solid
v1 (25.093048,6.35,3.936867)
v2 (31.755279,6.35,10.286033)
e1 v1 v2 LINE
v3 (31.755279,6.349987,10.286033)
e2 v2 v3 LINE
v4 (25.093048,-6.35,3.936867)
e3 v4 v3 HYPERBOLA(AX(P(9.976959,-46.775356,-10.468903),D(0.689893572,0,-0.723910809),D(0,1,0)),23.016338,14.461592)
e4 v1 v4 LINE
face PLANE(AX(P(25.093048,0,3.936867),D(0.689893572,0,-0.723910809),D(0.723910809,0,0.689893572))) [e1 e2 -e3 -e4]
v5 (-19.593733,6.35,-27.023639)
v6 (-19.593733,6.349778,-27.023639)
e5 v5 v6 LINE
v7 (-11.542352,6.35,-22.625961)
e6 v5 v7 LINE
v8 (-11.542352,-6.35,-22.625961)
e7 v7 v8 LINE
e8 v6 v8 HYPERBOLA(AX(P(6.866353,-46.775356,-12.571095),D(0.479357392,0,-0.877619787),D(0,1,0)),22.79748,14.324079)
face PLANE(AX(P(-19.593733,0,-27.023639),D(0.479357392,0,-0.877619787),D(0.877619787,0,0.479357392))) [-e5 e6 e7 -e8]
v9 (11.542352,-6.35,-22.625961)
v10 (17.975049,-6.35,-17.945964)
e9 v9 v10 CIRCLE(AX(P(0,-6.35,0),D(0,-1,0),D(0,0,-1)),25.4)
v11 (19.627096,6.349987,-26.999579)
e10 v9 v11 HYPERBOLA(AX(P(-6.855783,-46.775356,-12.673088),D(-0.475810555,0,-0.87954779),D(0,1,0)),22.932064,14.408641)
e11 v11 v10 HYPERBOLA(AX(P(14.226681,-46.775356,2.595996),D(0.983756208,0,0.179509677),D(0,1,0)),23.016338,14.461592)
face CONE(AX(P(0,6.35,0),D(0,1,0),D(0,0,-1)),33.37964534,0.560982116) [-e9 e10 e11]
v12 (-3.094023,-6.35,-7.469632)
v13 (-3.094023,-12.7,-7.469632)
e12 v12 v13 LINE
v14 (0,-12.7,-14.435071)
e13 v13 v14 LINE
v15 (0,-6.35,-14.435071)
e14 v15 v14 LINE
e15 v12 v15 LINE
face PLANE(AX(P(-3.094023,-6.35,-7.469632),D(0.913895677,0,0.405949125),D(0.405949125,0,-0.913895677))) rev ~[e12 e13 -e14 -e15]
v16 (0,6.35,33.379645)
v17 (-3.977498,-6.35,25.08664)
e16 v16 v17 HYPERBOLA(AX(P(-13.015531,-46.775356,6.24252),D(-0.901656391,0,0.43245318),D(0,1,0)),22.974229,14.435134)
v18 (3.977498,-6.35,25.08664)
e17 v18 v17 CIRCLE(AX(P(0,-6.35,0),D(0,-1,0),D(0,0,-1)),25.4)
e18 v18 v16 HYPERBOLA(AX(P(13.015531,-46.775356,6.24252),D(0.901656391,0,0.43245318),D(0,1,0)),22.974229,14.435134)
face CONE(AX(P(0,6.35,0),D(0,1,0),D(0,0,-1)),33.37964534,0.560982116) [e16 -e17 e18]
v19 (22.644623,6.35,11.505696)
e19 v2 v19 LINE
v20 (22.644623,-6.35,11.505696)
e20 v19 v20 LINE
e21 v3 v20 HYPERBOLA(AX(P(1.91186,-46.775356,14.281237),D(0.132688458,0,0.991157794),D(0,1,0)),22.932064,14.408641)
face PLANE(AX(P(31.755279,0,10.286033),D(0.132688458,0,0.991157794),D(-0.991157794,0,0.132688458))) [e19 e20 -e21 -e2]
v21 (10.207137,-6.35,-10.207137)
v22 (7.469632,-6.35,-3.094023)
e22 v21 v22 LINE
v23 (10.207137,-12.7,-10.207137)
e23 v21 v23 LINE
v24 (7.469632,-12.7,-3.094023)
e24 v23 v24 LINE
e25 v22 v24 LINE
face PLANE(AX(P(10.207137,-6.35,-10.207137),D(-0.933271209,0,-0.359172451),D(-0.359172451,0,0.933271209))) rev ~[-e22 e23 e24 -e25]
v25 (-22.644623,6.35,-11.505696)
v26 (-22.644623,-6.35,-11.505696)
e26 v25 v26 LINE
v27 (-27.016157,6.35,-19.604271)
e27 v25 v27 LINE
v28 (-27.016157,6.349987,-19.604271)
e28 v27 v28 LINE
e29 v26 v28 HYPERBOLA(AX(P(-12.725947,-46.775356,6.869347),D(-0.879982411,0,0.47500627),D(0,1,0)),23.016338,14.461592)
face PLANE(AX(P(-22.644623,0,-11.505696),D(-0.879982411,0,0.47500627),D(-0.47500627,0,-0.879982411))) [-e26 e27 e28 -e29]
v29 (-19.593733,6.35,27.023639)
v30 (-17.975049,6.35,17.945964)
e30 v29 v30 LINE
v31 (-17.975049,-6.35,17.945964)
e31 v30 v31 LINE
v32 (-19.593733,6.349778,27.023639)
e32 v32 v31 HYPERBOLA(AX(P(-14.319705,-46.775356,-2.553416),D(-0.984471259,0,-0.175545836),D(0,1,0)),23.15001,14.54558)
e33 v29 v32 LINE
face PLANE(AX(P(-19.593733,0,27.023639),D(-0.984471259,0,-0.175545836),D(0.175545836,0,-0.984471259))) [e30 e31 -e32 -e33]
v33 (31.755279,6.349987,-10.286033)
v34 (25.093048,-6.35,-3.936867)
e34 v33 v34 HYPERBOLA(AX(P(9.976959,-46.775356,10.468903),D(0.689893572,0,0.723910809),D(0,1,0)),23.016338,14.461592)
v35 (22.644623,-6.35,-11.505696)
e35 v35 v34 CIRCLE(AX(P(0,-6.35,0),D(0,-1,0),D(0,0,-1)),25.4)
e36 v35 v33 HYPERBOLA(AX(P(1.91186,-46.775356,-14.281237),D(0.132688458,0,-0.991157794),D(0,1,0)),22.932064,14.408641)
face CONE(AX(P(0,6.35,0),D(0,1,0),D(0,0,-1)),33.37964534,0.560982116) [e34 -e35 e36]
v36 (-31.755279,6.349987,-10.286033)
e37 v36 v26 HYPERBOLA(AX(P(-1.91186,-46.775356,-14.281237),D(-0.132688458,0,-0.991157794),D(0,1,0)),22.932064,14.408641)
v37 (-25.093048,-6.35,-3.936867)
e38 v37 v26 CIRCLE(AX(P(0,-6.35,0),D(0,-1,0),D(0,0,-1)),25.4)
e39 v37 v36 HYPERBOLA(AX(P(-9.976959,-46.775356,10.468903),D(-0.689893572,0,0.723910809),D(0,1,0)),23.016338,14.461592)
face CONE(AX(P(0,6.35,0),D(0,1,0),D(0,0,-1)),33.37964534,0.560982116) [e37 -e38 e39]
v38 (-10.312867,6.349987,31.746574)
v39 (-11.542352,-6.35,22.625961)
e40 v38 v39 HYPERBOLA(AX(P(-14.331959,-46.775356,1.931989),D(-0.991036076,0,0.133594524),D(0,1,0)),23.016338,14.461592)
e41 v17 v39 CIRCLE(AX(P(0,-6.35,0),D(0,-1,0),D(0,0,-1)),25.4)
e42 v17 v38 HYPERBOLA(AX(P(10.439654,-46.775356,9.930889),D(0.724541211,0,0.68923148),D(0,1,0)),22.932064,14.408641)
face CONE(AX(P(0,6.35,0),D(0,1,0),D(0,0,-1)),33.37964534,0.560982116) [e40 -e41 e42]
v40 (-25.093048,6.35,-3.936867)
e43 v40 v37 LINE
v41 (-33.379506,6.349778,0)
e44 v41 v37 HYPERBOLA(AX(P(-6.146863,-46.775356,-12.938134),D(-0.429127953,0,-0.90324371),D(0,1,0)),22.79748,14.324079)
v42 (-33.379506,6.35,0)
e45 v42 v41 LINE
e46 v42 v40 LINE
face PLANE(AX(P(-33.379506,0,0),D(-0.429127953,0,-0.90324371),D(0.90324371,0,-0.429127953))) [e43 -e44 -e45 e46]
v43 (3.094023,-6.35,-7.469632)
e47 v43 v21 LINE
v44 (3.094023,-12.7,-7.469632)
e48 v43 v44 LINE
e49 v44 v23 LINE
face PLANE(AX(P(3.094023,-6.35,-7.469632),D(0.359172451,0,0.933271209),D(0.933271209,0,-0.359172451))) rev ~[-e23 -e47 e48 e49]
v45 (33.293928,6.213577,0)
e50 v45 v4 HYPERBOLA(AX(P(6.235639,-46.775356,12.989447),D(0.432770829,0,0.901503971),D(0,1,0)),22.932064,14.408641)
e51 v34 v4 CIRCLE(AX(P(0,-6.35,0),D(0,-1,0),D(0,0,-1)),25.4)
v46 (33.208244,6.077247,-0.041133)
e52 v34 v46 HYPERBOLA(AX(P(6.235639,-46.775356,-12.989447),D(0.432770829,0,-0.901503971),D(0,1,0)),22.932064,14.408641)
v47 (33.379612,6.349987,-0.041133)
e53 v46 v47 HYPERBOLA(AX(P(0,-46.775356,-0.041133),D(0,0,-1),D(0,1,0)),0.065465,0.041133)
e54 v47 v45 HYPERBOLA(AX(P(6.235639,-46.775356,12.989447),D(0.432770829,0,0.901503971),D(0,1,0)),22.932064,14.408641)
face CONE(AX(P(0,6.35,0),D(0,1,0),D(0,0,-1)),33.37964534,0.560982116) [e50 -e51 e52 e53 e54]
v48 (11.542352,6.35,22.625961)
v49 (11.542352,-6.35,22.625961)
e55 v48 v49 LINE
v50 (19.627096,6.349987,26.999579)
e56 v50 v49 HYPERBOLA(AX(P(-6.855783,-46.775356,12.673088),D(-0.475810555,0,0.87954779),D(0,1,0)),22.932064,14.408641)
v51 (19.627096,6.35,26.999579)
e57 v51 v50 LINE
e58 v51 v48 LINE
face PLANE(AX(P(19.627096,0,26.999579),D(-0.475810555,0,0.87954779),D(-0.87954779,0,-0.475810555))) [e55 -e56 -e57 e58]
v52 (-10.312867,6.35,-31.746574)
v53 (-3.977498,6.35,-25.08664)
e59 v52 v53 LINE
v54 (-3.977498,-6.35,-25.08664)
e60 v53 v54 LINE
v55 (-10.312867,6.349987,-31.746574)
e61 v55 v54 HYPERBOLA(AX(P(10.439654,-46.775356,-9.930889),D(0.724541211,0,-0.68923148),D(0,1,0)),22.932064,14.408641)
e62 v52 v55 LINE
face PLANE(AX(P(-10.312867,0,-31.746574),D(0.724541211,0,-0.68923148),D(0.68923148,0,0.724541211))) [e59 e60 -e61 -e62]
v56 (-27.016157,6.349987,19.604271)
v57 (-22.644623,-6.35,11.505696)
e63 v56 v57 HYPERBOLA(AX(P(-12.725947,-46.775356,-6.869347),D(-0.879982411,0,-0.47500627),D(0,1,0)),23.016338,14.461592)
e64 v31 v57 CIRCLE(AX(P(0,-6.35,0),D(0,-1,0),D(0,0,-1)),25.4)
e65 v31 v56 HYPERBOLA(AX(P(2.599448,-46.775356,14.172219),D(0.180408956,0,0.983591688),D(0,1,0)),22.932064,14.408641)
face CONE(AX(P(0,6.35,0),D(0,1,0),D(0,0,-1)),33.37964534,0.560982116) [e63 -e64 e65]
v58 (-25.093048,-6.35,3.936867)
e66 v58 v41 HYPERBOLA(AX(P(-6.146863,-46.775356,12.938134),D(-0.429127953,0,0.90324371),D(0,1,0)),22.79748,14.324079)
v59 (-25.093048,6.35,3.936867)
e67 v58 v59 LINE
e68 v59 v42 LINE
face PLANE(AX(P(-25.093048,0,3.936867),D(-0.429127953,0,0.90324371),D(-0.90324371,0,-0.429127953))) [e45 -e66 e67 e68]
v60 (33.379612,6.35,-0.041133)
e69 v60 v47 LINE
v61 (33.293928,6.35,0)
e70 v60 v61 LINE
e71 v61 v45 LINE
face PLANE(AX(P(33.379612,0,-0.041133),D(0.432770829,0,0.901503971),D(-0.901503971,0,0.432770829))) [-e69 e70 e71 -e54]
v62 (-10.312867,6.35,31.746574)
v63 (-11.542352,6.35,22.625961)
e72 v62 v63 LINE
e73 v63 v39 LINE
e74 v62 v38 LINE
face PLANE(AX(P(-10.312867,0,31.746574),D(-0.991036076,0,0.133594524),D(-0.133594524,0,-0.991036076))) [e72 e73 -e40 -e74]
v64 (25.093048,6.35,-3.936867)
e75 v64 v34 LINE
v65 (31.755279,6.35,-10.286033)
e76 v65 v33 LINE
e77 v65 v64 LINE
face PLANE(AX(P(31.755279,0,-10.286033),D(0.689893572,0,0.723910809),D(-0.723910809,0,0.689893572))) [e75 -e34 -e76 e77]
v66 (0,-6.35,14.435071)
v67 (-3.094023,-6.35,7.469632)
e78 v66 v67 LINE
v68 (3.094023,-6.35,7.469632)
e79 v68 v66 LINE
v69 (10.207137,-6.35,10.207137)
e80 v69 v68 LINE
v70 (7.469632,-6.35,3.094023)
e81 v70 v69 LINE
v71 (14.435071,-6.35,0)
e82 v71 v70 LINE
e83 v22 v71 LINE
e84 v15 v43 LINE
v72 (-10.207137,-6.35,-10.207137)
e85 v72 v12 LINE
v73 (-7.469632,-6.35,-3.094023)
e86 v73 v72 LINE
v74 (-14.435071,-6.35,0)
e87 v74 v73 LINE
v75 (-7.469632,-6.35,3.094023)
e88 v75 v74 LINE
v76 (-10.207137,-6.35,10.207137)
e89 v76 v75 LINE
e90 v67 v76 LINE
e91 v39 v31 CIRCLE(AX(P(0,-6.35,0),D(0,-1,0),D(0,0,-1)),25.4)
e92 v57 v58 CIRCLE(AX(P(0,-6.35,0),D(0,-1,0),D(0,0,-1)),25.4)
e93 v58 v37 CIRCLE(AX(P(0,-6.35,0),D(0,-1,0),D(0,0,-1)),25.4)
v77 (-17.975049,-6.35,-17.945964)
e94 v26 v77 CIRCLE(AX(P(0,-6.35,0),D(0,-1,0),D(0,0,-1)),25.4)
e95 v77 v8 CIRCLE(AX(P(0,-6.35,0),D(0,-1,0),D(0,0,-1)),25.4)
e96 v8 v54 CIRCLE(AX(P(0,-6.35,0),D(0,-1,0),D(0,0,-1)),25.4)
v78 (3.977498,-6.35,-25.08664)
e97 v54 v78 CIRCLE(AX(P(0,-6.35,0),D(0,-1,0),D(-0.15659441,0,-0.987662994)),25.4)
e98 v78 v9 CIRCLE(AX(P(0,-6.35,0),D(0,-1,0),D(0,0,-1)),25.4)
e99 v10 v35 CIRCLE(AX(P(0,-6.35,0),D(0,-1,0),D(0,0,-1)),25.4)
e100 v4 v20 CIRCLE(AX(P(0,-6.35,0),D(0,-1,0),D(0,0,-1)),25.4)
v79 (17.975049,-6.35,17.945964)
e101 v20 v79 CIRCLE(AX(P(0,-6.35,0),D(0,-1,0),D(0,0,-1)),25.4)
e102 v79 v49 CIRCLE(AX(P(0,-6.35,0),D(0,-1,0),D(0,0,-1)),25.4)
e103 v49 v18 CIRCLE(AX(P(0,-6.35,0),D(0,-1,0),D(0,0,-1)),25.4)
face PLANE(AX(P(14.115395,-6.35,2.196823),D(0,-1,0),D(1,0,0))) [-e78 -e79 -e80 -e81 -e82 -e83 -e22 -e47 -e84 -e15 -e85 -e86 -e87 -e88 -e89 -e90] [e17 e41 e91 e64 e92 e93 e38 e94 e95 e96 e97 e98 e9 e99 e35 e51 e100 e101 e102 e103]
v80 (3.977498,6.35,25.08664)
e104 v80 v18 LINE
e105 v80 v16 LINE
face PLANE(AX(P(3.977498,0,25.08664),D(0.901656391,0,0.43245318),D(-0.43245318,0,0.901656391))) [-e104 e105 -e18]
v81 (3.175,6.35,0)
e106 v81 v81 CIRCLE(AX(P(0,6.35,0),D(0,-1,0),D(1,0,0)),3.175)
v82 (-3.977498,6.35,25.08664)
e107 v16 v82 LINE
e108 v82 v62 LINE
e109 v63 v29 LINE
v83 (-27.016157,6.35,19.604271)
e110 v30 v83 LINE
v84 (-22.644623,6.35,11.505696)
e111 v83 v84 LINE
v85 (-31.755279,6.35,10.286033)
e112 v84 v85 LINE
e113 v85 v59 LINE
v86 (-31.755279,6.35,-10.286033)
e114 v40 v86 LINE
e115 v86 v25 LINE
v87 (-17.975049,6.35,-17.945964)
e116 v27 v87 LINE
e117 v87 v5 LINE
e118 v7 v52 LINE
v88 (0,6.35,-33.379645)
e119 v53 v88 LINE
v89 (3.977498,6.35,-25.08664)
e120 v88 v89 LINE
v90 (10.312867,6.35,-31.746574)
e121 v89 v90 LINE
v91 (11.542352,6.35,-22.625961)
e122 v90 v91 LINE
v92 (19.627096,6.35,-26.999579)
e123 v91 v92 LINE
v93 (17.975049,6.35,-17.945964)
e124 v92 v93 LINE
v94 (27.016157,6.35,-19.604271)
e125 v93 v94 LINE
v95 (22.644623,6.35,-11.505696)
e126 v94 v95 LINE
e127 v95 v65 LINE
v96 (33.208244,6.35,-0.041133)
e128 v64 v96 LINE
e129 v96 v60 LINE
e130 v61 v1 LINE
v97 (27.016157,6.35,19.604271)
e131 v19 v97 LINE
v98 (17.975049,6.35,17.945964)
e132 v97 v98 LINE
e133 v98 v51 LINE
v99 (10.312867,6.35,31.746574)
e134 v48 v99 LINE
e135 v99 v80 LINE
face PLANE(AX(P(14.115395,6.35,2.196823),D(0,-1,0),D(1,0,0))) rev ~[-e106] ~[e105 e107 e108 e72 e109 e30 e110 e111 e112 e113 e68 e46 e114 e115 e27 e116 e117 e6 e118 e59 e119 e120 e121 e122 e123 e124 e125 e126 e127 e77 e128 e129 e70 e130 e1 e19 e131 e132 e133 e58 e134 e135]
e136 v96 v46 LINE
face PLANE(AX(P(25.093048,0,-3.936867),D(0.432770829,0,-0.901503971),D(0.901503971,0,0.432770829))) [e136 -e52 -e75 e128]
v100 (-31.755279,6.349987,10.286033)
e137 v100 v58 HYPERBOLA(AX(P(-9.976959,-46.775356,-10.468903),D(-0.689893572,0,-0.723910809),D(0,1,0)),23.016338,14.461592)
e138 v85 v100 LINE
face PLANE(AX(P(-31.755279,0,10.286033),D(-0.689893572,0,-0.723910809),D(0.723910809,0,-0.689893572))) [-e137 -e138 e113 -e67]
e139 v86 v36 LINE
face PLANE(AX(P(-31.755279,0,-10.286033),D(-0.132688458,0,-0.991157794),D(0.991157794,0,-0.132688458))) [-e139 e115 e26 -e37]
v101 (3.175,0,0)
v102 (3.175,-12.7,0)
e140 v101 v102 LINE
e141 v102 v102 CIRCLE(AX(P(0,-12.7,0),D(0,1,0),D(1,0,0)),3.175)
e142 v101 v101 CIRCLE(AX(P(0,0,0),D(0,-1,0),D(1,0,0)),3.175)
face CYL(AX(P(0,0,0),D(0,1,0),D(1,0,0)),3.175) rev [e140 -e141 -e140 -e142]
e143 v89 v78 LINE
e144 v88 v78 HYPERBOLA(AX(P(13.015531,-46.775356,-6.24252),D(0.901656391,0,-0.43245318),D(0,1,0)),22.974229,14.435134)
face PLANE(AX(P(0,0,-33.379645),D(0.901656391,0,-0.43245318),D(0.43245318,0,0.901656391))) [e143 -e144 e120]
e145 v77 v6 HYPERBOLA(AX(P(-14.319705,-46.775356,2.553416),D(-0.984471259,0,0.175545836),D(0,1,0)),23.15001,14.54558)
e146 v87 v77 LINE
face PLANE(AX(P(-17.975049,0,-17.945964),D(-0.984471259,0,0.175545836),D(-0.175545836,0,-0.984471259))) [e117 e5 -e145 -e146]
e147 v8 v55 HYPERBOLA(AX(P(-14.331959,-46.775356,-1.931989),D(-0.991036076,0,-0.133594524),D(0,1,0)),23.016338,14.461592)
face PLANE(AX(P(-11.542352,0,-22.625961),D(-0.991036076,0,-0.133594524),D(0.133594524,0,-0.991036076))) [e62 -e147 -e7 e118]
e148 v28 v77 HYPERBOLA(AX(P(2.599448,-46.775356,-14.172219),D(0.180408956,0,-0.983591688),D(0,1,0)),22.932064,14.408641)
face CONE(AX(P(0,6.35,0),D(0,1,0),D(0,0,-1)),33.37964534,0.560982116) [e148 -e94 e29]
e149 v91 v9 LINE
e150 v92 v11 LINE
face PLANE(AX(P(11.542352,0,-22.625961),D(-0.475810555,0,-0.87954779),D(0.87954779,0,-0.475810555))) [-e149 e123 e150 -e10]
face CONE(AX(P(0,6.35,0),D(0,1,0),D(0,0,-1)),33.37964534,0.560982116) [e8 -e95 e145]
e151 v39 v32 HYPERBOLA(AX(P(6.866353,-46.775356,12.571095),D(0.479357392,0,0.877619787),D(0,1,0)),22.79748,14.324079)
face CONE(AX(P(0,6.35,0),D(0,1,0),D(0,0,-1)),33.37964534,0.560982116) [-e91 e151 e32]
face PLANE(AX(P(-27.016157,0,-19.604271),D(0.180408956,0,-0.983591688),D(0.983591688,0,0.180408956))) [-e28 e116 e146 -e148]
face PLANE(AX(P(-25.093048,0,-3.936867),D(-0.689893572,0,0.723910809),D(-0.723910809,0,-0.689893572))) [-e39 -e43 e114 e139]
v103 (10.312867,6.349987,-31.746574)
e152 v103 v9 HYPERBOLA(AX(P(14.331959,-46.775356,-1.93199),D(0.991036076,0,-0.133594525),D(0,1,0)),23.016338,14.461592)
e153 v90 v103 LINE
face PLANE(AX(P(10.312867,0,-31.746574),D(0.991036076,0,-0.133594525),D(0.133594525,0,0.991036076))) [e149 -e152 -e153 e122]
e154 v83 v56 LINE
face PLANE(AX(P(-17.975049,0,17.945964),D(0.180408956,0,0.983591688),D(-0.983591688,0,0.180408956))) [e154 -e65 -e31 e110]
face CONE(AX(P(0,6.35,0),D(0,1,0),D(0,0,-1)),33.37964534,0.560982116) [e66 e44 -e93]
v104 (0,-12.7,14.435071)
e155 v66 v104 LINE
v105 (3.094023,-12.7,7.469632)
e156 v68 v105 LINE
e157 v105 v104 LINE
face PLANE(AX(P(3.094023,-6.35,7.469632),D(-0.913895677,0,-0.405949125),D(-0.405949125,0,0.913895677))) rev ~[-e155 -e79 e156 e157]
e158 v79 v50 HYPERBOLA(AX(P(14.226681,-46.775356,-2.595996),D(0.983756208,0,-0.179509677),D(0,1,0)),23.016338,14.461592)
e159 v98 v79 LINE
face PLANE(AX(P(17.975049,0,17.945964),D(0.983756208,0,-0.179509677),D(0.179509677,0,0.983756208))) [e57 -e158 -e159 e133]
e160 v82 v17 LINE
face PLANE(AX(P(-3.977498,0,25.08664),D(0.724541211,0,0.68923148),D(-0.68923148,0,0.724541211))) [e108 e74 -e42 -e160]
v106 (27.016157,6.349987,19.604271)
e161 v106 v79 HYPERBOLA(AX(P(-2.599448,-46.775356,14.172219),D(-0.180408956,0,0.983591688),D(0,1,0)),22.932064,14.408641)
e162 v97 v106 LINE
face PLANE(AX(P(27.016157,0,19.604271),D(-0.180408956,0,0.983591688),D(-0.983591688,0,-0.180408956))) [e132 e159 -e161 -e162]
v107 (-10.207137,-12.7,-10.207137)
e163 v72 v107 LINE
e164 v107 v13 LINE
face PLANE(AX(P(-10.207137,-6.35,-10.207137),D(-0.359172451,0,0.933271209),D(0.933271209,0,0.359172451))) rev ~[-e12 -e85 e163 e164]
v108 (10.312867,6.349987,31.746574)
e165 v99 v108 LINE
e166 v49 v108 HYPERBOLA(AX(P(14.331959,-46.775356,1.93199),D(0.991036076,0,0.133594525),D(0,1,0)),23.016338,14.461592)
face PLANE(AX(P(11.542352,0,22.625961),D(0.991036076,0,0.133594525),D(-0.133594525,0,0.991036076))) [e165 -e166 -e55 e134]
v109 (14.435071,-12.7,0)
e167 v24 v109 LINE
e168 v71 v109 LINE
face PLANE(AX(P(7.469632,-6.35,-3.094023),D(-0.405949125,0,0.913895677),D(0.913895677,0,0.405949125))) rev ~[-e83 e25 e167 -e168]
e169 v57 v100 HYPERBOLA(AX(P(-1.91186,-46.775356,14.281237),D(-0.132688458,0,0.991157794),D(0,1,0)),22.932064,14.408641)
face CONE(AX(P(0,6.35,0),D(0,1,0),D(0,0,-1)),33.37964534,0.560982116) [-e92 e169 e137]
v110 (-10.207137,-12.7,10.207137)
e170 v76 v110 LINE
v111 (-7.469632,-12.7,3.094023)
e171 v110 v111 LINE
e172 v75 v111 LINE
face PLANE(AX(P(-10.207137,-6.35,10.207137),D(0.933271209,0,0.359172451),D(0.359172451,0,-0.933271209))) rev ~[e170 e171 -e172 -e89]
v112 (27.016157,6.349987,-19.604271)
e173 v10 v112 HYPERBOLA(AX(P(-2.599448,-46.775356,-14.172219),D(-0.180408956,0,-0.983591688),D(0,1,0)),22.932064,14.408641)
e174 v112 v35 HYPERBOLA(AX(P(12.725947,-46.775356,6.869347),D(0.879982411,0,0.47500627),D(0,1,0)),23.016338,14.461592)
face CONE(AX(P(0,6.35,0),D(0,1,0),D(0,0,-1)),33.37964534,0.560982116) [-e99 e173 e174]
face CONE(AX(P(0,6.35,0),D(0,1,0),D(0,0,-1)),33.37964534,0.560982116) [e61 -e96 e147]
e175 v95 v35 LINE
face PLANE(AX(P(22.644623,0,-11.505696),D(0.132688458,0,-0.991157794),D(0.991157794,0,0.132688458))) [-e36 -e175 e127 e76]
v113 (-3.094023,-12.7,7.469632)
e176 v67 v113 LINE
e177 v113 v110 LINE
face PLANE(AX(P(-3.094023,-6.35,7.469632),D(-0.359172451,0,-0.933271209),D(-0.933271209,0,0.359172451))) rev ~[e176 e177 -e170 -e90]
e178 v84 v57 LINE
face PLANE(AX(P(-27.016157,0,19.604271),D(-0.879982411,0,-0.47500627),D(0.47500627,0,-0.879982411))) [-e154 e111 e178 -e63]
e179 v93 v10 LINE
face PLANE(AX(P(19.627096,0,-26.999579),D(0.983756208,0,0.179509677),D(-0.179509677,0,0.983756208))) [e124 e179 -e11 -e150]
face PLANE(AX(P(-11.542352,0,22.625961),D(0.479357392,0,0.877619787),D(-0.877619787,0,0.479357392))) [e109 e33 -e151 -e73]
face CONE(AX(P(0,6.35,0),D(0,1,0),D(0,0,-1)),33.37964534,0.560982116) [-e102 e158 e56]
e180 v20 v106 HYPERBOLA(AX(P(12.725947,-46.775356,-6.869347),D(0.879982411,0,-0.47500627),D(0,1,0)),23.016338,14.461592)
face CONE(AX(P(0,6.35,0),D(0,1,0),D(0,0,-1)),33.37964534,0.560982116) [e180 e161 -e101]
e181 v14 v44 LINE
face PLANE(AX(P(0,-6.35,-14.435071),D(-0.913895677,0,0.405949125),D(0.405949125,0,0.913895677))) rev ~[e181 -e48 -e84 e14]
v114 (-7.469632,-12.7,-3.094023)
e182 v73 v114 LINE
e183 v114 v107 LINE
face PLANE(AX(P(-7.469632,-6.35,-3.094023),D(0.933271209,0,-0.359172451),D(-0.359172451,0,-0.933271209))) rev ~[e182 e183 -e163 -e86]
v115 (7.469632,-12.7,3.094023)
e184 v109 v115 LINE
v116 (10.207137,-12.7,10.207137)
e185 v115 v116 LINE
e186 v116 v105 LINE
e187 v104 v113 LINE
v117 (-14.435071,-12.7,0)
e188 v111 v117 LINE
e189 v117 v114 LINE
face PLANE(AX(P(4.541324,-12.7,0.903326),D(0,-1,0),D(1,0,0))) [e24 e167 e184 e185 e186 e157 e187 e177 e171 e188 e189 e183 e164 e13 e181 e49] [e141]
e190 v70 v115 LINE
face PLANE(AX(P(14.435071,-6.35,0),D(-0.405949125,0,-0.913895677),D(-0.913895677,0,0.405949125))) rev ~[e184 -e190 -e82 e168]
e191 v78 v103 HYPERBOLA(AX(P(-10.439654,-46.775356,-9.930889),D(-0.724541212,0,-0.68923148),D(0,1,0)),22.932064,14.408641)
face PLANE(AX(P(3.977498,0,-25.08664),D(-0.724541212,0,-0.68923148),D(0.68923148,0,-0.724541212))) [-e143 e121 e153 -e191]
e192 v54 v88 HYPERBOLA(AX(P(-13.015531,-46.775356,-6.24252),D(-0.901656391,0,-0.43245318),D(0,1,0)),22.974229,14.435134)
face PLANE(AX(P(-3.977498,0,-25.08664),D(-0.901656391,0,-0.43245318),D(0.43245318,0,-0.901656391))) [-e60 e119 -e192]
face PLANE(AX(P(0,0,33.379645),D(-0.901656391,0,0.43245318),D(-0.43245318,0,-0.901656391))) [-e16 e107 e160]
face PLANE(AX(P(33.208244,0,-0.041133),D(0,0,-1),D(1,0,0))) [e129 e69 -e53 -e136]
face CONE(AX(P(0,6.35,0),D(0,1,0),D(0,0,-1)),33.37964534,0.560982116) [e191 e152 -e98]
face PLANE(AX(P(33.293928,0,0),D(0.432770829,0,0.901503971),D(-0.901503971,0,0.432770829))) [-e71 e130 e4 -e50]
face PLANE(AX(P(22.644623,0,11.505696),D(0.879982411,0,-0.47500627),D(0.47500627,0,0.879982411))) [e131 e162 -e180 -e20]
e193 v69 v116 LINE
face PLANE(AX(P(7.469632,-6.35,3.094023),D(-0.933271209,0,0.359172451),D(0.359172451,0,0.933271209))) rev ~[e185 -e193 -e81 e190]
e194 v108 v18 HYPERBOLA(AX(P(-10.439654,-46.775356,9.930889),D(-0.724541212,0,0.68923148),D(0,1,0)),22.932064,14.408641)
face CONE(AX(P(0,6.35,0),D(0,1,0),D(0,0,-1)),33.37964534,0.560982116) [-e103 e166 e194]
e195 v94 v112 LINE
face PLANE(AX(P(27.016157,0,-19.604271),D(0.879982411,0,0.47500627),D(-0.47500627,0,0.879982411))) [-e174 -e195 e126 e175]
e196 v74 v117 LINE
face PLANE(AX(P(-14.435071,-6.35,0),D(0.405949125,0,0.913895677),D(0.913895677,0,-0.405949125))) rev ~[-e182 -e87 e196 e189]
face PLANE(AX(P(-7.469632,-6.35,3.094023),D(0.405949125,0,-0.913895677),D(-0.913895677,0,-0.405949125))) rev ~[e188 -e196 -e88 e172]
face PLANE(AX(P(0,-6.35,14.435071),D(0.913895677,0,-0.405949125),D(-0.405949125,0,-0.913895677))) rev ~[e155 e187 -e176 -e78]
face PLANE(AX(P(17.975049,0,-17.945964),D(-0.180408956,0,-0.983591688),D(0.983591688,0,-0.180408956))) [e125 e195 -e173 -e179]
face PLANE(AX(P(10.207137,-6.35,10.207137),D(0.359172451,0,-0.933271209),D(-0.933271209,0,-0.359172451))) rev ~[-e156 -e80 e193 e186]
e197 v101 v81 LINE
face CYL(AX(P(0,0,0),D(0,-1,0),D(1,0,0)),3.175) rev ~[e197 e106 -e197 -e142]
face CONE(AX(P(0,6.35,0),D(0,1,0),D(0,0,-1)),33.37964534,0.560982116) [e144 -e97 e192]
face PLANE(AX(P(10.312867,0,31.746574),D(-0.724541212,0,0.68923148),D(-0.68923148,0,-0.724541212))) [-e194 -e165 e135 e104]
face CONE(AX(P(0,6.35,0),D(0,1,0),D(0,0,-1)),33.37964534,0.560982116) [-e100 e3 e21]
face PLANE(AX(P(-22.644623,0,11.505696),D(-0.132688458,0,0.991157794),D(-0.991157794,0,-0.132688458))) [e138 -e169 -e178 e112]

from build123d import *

# Parameters (mm, degrees)
F1_DEPTH = 6.35
F6_DEPTH = 6.35
F5_R     = 3.175
F7_DEPTH = 63.5


with BuildPart() as f1:
    # F0 (on Front) → F1 (new body, symmetric)
    with BuildSketch(Plane.XZ):
        with BuildLine():
            ThreePointArc((25.3999666944, -0.0411329817), (25.3999916736, -0.0205664976), (25.4, 0))
            ThreePointArc((25.4, 0), (25.3231458192, 1.9744077138), (25.0930483606, 3.9368672789))
            ThreePointArc((25.0930483606, 3.9368672789), (24.706334539, 5.8955096173), (24.1669838755, 7.8177292331))
            Line((24.1669838755, 7.8177292331), (0.0326778328, -0.0326249568))
            Line((0.0326778328, -0.0326249568), (0.0299255888, -0.0411329817))
            Line((0.0299255888, -0.0411329817), (25.3999666944, -0.0411329817))
        make_face()
        with BuildLine():
            ThreePointArc((25.0930483606, 3.9368672789), (25.3231458192, 1.9744077138), (25.4, 0))
            ThreePointArc((25.4, 0), (25.3999916736, -0.0205664976), (25.3999666944, -0.0411329817))
            Line((25.3999666944, -0.0411329817), (33.2082439851, -0.0411329817))
            Line((33.2082439851, -0.0411329817), (33.2939280097, 0))
            Line((33.2939280097, 0), (25.0930483606, 3.9368672789))
        make_face()
        with BuildLine():
            ThreePointArc((24.1669838755, 7.8177292331), (24.706334539, 5.8955096173), (25.0930483606, 3.9368672789))
            Line((25.0930483606, 3.9368672789), (31.7552785313, 10.2860330974))
            Line((31.7552785313, 10.2860330974), (24.1669838755, 7.8177292331))
        make_face()
        with BuildLine():
            Line((33.2082439851, -0.0411329817), (25.3999666944, -0.0411329817))
            ThreePointArc((25.3999666944, -0.0411329817), (25.3215388309, -1.994911335), (25.0930483606, -3.9368672789))
            Line((25.0930483606, -3.9368672789), (33.2082439851, -0.0411329817))
        make_face()
        with BuildLine():
            ThreePointArc((25.0930483606, -3.9368672789), (25.3215388309, -1.994911335), (25.3999666944, -0.0411329817))
            Line((25.3999666944, -0.0411329817), (0.0299255888, -0.0411329817))
            Line((0.0299255888, -0.0411329817), (0.0264556072, -0.0518597526))
            Line((0.0264556072, -0.0518597526), (24.1415369557, -7.895960576))
            ThreePointArc((24.1415369557, -7.895960576), (24.6967549032, -5.9355115407), (25.0930483606, -3.9368672789))
        make_face()
        with BuildLine():
            Line((0.0326778328, -0.0326249568), (24.1669838755, 7.8177292331))
            ThreePointArc((24.1669838755, 7.8177292331), (23.4783285027, 9.6916505673), (22.6446229644, 11.5056964501))
            ThreePointArc((22.6446229644, 11.5056964501), (21.6710179307, 13.2486596246), (20.5635283771, 14.9097719863))
            Line((20.5635283771, 14.9097719863), (0.0350181754, -0.0253902444))
            Line((0.0350181754, -0.0253902444), (0.0326778328, -0.0326249568))
        make_face()
        with BuildLine():
            ThreePointArc((22.6446229644, 11.5056964501), (23.4783285027, 9.6916505673), (24.1669838755, 7.8177292331))
            Line((24.1669838755, 7.8177292331), (31.7552785313, 10.2860330974))
            Line((31.7552785313, 10.2860330974), (22.6446229644, 11.5056964501))
        make_face()
        Polygon((33.3796120343, -0.0411329817), (33.2939280097, 0), (33.2082439851, -0.0411329817), align=None)
        with BuildLine():
            Line((31.7552785313, -10.2860330974), (25.0930483606, -3.9368672789))
            ThreePointArc((25.0930483606, -3.9368672789), (24.6967549032, -5.9355115407), (24.1415369557, -7.895960576))
            ThreePointArc((24.1415369557, -7.895960576), (23.4626029734, -9.7296588694), (22.6446229644, -11.5056964501))
            Line((22.6446229644, -11.5056964501), (31.7552785313, -10.2860330974))
        make_face()
        with BuildLine():
            ThreePointArc((20.5635283771, 14.9097719863), (21.6710179307, 13.2486596246), (22.6446229644, 11.5056964501))
            Line((22.6446229644, 11.5056964501), (27.0161574965, 19.6042705962))
            Line((27.0161574965, 19.6042705962), (20.5635283771, 14.9097719863))
        make_face()
        with BuildLine():
            ThreePointArc((22.6446229644, -11.5056964501), (23.4626029734, -9.7296588694), (24.1415369557, -7.895960576))
            Line((24.1415369557, -7.895960576), (0.0264556072, -0.0518597526))
            Line((0.0264556072, -0.0518597526), (0.0216754409, -0.0666367035))
            Line((0.0216754409, -0.0666367035), (20.5151305555, -14.9762952125))
            ThreePointArc((20.5151305555, -14.9762952125), (21.6495345196, -13.283736488), (22.6446229644, -11.5056964501))
        make_face()
        with BuildLine():
            Line((0.0350181754, -0.0253902444), (20.5635283771, 14.9097719863))
            ThreePointArc((20.5635283771, 14.9097719863), (19.3289964238, 16.4787711086), (17.9750490644, 17.9459636446))
            ThreePointArc((17.9750490644, 17.9459636446), (16.5100510465, 19.302285213), (14.9430531934, 20.5393563984))
            Line((14.9430531934, 20.5393563984), (0.0371289603, -0.0188651649))
            Line((0.0371289603, -0.0188651649), (0.0350181754, -0.0253902444))
        make_face()
        with BuildLine():
            ThreePointArc((17.9750490644, 17.9459636446), (19.3289964238, 16.4787711086), (20.5635283771, 14.9097719863))
            Line((20.5635283771, 14.9097719863), (27.0161574965, 19.6042705962))
            Line((27.0161574965, 19.6042705962), (17.9750490644, 17.9459636446))
        make_face()
        with BuildLine():
            Line((27.0161574965, -19.6042705962), (22.6446229644, -11.5056964501))
            ThreePointArc((22.6446229644, -11.5056964501), (21.6495345196, -13.283736488), (20.5151305555, -14.9762952125))
            ThreePointArc((20.5151305555, -14.9762952125), (19.302285213, -16.5100510465), (17.9750490644, -17.9459636446))
            Line((17.9750490644, -17.9459636446), (27.0161574965, -19.6042705962))
        make_face()
        with BuildLine():
            Line((20.5151305555, -14.9762952125), (0.0216754409, -0.0666367035))
            Line((0.0216754409, -0.0666367035), (0.0142195958, -0.0896849932))
            Line((0.0142195958, -0.0896849932), (14.8764516786, -20.5876464282))
            ThreePointArc((14.8764516786, -20.5876464282), (16.4787711086, -19.3289964238), (17.9750490644, -17.9459636446))
            ThreePointArc((17.9750490644, -17.9459636446), (19.302285213, -16.5100510465), (20.5151305555, -14.9762952125))
        make_face()
        with BuildLine():
            ThreePointArc((14.9430531934, 20.5393563984), (16.5100510465, 19.302285213), (17.9750490644, 17.9459636446))
            Line((17.9750490644, 17.9459636446), (19.6270962066, 26.9995793667))
            Line((19.6270962066, 26.9995793667), (14.9430531934, 20.5393563984))
        make_face()
        with BuildLine():
            Line((0.0294725544, -0.0294248649), (0.0371289603, -0.0188651649))
            Line((0.0371289603, -0.0188651649), (7.8568552068, 24.1542920877))
            ThreePointArc((7.8568552068, 24.1542920877), (5.9355115407, 24.6967549032), (3.9774980183, 25.0866400603))
            ThreePointArc((3.9774980183, 25.0866400603), (1.994911335, 25.3215388309), (0, 25.4))
            Line((0, 25.4), (-0.041143489, -0.006455033))
            Line((-0.041143489, -0.006455033), (-0.0371289603, -0.0188651649))
            Line((-0.0371289603, -0.0188651649), (-0.0294725544, -0.0294248649))
            Line((-0.0294725544, -0.0294248649), (-0.0189252671, -0.0370983612))
            Line((-0.0189252671, -0.0370983612), (-0.0065216527, -0.0411329817))
            Line((-0.0065216527, -0.0411329817), (0.0065216527, -0.0411329817))
            Line((0.0065216527, -0.0411329817), (0.0189252671, -0.0370983612))
            Line((0.0189252671, -0.0370983612), (0.0294725544, -0.0294248649))
        make_face()
        with BuildLine():
            Line((7.8568552068, 24.1542920877), (0.0371289603, -0.0188651649))
            Line((0.0371289603, -0.0188651649), (14.9430531934, 20.5393563984))
            ThreePointArc((14.9430531934, 20.5393563984), (13.283736488, 21.6495345196), (11.5423522634, 22.6259608465))
            ThreePointArc((11.5423522634, 22.6259608465), (9.7296588694, 23.4626029734), (7.8568552068, 24.1542920877))
        make_face()
        with BuildLine():
            Line((14.8764516786, -20.5876464282), (0.0142195958, -0.0896849932))
            Line((0.0142195958, -0.0896849932), (0, -0.133642098))
            Line((0, -0.133642098), (7.7785827575, -24.1796122857))
            ThreePointArc((7.7785827575, -24.1796122857), (9.6916505673, -23.4783285027), (11.5423522634, -22.6259608465))
            ThreePointArc((11.5423522634, -22.6259608465), (13.2486596246, -21.6710179307), (14.8764516786, -20.5876464282))
        make_face()
        with BuildLine():
            ThreePointArc((11.5423522634, 22.6259608465), (13.283736488, 21.6495345196), (14.9430531934, 20.5393563984))
            Line((14.9430531934, 20.5393563984), (19.6270962066, 26.9995793667))
            Line((19.6270962066, 26.9995793667), (11.5423522634, 22.6259608465))
        make_face()
        with BuildLine():
            Line((10.3128672742, 31.7465739895), (7.8568552068, 24.1542920877))
            ThreePointArc((7.8568552068, 24.1542920877), (9.7296588694, 23.4626029734), (11.5423522634, 22.6259608465))
            Line((11.5423522634, 22.6259608465), (10.3128672742, 31.7465739895))
        make_face()
        with BuildLine():
            ThreePointArc((3.9774980183, 25.0866400603), (5.9355115407, 24.6967549032), (7.8568552068, 24.1542920877))
            Line((7.8568552068, 24.1542920877), (10.3128672742, 31.7465739895))
            Line((10.3128672742, 31.7465739895), (3.9774980183, 25.0866400603))
        make_face()
        with BuildLine():
            Line((19.6270962066, -26.9995793667), (17.9750490644, -17.9459636446))
            ThreePointArc((17.9750490644, -17.9459636446), (16.4787711086, -19.3289964238), (14.8764516786, -20.5876464282))
            ThreePointArc((14.8764516786, -20.5876464282), (13.2486596246, -21.6710179307), (11.5423522634, -22.6259608465))
            Line((11.5423522634, -22.6259608465), (19.6270962066, -26.9995793667))
        make_face()
        with BuildLine():
            Line((7.7785827575, -24.1796122857), (0, -0.133642098))
            Line((0, -0.133642098), (-0.0415574978, -0.2621089903))
            Line((-0.0415574978, -0.2621089903), (-0.0822658556, -25.3998667778))
            ThreePointArc((-0.0822658556, -25.3998667778), (1.9539027981, -25.3247362051), (3.9774980183, -25.0866400603))
            ThreePointArc((3.9774980183, -25.0866400603), (5.8955096173, -24.706334539), (7.7785827575, -24.1796122857))
        make_face()
        with BuildLine():
            ThreePointArc((0, 25.4), (1.994911335, 25.3215388309), (3.9774980183, 25.0866400603))
            Line((3.9774980183, 25.0866400603), (0, 33.3796453399))
            Line((0, 33.3796453399), (0, 25.4))
        make_face()
        with BuildLine():
            Line((-7.7785827575, -24.1796122857), (-0.0415574978, -0.2621089903))
            Line((-0.0415574978, -0.2621089903), (-0.041338843, -0.1270878059))
            Line((-0.041338843, -0.1270878059), (-14.8764516786, -20.5876464282))
            ThreePointArc((-14.8764516786, -20.5876464282), (-13.2486596246, -21.6710179307), (-11.5423522634, -22.6259608465))
            ThreePointArc((-11.5423522634, -22.6259608465), (-9.6916505673, -23.4783285027), (-7.7785827575, -24.1796122857))
        make_face()
        with BuildLine():
            Line((-0.0822658556, -25.3998667778), (-0.0415574978, -0.2621089903))
            Line((-0.0415574978, -0.2621089903), (-7.7785827575, -24.1796122857))
            ThreePointArc((-7.7785827575, -24.1796122857), (-5.8955096173, -24.706334539), (-3.9774980183, -25.0866400603))
            ThreePointArc((-3.9774980183, -25.0866400603), (-2.0359146402, -25.3182750514), (-0.0822658556, -25.3998667778))
        make_face()
        with BuildLine():
            ThreePointArc((11.5423522634, -22.6259608465), (9.6916505673, -23.4783285027), (7.7785827575, -24.1796122857))
            ThreePointArc((7.7785827575, -24.1796122857), (5.8955096173, -24.706334539), (3.9774980183, -25.0866400603))
            Line((3.9774980183, -25.0866400603), (10.3128672742, -31.7465739895))
            Line((10.3128672742, -31.7465739895), (11.5423522634, -22.6259608465))
        make_face()
        with BuildLine():
            Line((-0.041143489, -0.006455033), (0, 25.4))
            ThreePointArc((0, 25.4), (-1.994911335, 25.3215388309), (-3.9774980183, 25.0866400603))
            ThreePointArc((-3.9774980183, 25.0866400603), (-5.9355115407, 24.6967549032), (-7.8568552068, 24.1542920877))
            Line((-7.8568552068, 24.1542920877), (-0.041143489, -0.006455033))
        make_face()
        with BuildLine():
            ThreePointArc((-3.9774980183, 25.0866400603), (-1.994911335, 25.3215388309), (0, 25.4))
            Line((0, 25.4), (0, 33.3796453399))
            Line((0, 33.3796453399), (-3.9774980183, 25.0866400603))
        make_face()
        with BuildLine():
            Line((-14.8764516786, -20.5876464282), (-0.041338843, -0.1270878059))
            Line((-0.041338843, -0.1270878059), (-0.0412640266, -0.08088804))
            Line((-0.0412640266, -0.08088804), (-20.5151305555, -14.9762952125))
            ThreePointArc((-20.5151305555, -14.9762952125), (-19.302285213, -16.5100510465), (-17.9750490644, -17.9459636446))
            ThreePointArc((-17.9750490644, -17.9459636446), (-16.4787711086, -19.3289964238), (-14.8764516786, -20.5876464282))
        make_face()
        with BuildLine():
            ThreePointArc((3.9774980183, -25.0866400603), (1.9539027981, -25.3247362051), (-0.0822658556, -25.3998667778))
            ThreePointArc((-0.0822658556, -25.3998667778), (-2.0359146402, -25.3182750514), (-3.9774980183, -25.0866400603))
            Line((-3.9774980183, -25.0866400603), (0, -33.3796453399))
            Line((0, -33.3796453399), (3.9774980183, -25.0866400603))
        make_face()
        with BuildLine():
            ThreePointArc((-3.9774980183, -25.0866400603), (-5.8955096173, -24.706334539), (-7.7785827575, -24.1796122857))
            ThreePointArc((-7.7785827575, -24.1796122857), (-9.6916505673, -23.4783285027), (-11.5423522634, -22.6259608465))
            Line((-11.5423522634, -22.6259608465), (-10.3128672794, -31.7465739878))
            Line((-10.3128672794, -31.7465739878), (-3.9774980183, -25.0866400603))
        make_face()
        with BuildLine():
            ThreePointArc((-7.8568552068, 24.1542920877), (-5.9355115407, 24.6967549032), (-3.9774980183, 25.0866400603))
            Line((-3.9774980183, 25.0866400603), (-10.3128672794, 31.7465739878))
            Line((-10.3128672794, 31.7465739878), (-7.8568552068, 24.1542920877))
        make_face()
        with BuildLine():
            Line((-0.0411545949, -0.0133130175), (-0.041143489, -0.006455033))
            Line((-0.041143489, -0.006455033), (-7.8568552068, 24.1542920877))
            ThreePointArc((-7.8568552068, 24.1542920877), (-9.7296588694, 23.4626029734), (-11.5423522634, 22.6259608465))
            ThreePointArc((-11.5423522634, 22.6259608465), (-13.283736488, 21.6495345196), (-14.9430531934, 20.5393563984))
            Line((-14.9430531934, 20.5393563984), (-0.0411545949, -0.0133130175))
        make_face()
        with BuildLine():
            Line((-20.5151305555, -14.9762952125), (-0.0412640266, -0.08088804))
            Line((-0.0412640266, -0.08088804), (-0.0412247977, -0.0566638425))
            Line((-0.0412247977, -0.0566638425), (-24.1415369557, -7.895960576))
            ThreePointArc((-24.1415369557, -7.895960576), (-23.4626029734, -9.7296588694), (-22.6446229644, -11.5056964501))
            ThreePointArc((-22.6446229644, -11.5056964501), (-21.6495345196, -13.283736488), (-20.5151305555, -14.9762952125))
        make_face()
        with BuildLine():
            ThreePointArc((-11.5423522634, -22.6259608465), (-13.2486596246, -21.6710179307), (-14.8764516786, -20.5876464282))
            ThreePointArc((-14.8764516786, -20.5876464282), (-16.4787711086, -19.3289964238), (-17.9750490644, -17.9459636446))
            Line((-17.9750490644, -17.9459636446), (-19.5937332182, -27.0236385527))
            Line((-19.5937332182, -27.0236385527), (-11.5423522634, -22.6259608465))
        make_face()
        with BuildLine():
            ThreePointArc((-11.5423522634, 22.6259608465), (-9.7296588694, 23.4626029734), (-7.8568552068, 24.1542920877))
            Line((-7.8568552068, 24.1542920877), (-10.3128672794, 31.7465739878))
            Line((-10.3128672794, 31.7465739878), (-11.5423522634, 22.6259608465))
        make_face()
        with BuildLine():
            Line((-0.0411669086, -0.02091684), (-0.0411545949, -0.0133130175))
            Line((-0.0411545949, -0.0133130175), (-14.9430531934, 20.5393563984))
            ThreePointArc((-14.9430531934, 20.5393563984), (-16.5100510465, 19.302285213), (-17.9750490644, 17.9459636446))
            ThreePointArc((-17.9750490644, 17.9459636446), (-19.3289964238, 16.4787711086), (-20.5635283771, 14.9097719863))
            Line((-20.5635283771, 14.9097719863), (-0.0411669086, -0.02091684))
        make_face()
        with BuildLine():
            Line((-24.1415369557, -7.895960576), (-0.0412247977, -0.0566638425))
            Line((-0.0412247977, -0.0566638425), (-0.0411996469, -0.0411329817))
            Line((-0.0411996469, -0.0411329817), (-25.3999666944, -0.0411329817))
            ThreePointArc((-25.3999666944, -0.0411329817), (-25.3215388309, -1.994911335), (-25.0930483606, -3.9368672789))
            ThreePointArc((-25.0930483606, -3.9368672789), (-24.6967549032, -5.9355115407), (-24.1415369557, -7.895960576))
        make_face()
        with BuildLine():
            ThreePointArc((-17.9750490644, -17.9459636446), (-19.302285213, -16.5100510465), (-20.5151305555, -14.9762952125))
            ThreePointArc((-20.5151305555, -14.9762952125), (-21.6495345196, -13.283736488), (-22.6446229644, -11.5056964501))
            Line((-22.6446229644, -11.5056964501), (-27.0161574965, -19.6042705962))
            Line((-27.0161574965, -19.6042705962), (-17.9750490644, -17.9459636446))
        make_face()
        with BuildLine():
            Line((-25.3999666944, -0.0411329817), (-0.0411996469, -0.0411329817))
            Line((-0.0411996469, -0.0411329817), (-0.0411813896, -0.0298589385))
            Line((-0.0411813896, -0.0298589385), (-24.1669838755, 7.8177292331))
            ThreePointArc((-24.1669838755, 7.8177292331), (-24.706334539, 5.8955096173), (-25.0930483606, 3.9368672789))
            ThreePointArc((-25.0930483606, 3.9368672789), (-25.3247362051, 1.9539027981), (-25.3999666944, -0.0411329817))
        make_face()
        with BuildLine():
            Line((-24.1669838755, 7.8177292331), (-0.0411813896, -0.0298589385))
            Line((-0.0411813896, -0.0298589385), (-0.0411669086, -0.02091684))
            Line((-0.0411669086, -0.02091684), (-20.5635283771, 14.9097719863))
            ThreePointArc((-20.5635283771, 14.9097719863), (-21.6710179307, 13.2486596246), (-22.6446229644, 11.5056964501))
            ThreePointArc((-22.6446229644, 11.5056964501), (-23.4783285027, 9.6916505673), (-24.1669838755, 7.8177292331))
        make_face()
        with BuildLine():
            ThreePointArc((-14.9430531934, 20.5393563984), (-13.283736488, 21.6495345196), (-11.5423522634, 22.6259608465))
            Line((-11.5423522634, 22.6259608465), (-19.5937332182, 27.0236385527))
            Line((-19.5937332182, 27.0236385527), (-14.9430531934, 20.5393563984))
        make_face()
        with BuildLine():
            ThreePointArc((-17.9750490644, 17.9459636446), (-16.5100510465, 19.302285213), (-14.9430531934, 20.5393563984))
            Line((-14.9430531934, 20.5393563984), (-19.5937332182, 27.0236385527))
            Line((-19.5937332182, 27.0236385527), (-17.9750490644, 17.9459636446))
        make_face()
        with BuildLine():
            ThreePointArc((-22.6446229644, -11.5056964501), (-23.4626029734, -9.7296588694), (-24.1415369557, -7.895960576))
            ThreePointArc((-24.1415369557, -7.895960576), (-24.6967549032, -5.9355115407), (-25.0930483606, -3.9368672789))
            Line((-25.0930483606, -3.9368672789), (-31.7552785313, -10.2860330974))
            Line((-31.7552785313, -10.2860330974), (-22.6446229644, -11.5056964501))
        make_face()
        with BuildLine():
            Line((-33.3795060187, 0), (-25.3999666944, -0.0411329817))
            ThreePointArc((-25.3999666944, -0.0411329817), (-25.3247362051, 1.9539027981), (-25.0930483606, 3.9368672789))
            Line((-25.0930483606, 3.9368672789), (-33.3795060187, 0))
        make_face()
        with BuildLine():
            ThreePointArc((-25.0930483606, -3.9368672789), (-25.3215388309, -1.994911335), (-25.3999666944, -0.0411329817))
            Line((-25.3999666944, -0.0411329817), (-33.3795060187, 0))
            Line((-33.3795060187, 0), (-25.0930483606, -3.9368672789))
        make_face()
        with BuildLine():
            Line((-31.7552785313, 10.2860330974), (-24.1669838755, 7.8177292331))
            ThreePointArc((-24.1669838755, 7.8177292331), (-23.4783285027, 9.6916505673), (-22.6446229644, 11.5056964501))
            Line((-22.6446229644, 11.5056964501), (-31.7552785313, 10.2860330974))
        make_face()
        with BuildLine():
            ThreePointArc((-25.0930483606, 3.9368672789), (-24.706334539, 5.8955096173), (-24.1669838755, 7.8177292331))
            Line((-24.1669838755, 7.8177292331), (-31.7552785313, 10.2860330974))
            Line((-31.7552785313, 10.2860330974), (-25.0930483606, 3.9368672789))
        make_face()
        with BuildLine():
            Line((-27.0161574965, 19.6042705962), (-20.5635283771, 14.9097719863))
            ThreePointArc((-20.5635283771, 14.9097719863), (-19.3289964238, 16.4787711086), (-17.9750490644, 17.9459636446))
            Line((-17.9750490644, 17.9459636446), (-27.0161574965, 19.6042705962))
        make_face()
        with BuildLine():
            ThreePointArc((-22.6446229644, 11.5056964501), (-21.6710179307, 13.2486596246), (-20.5635283771, 14.9097719863))
            Line((-20.5635283771, 14.9097719863), (-27.0161574965, 19.6042705962))
            Line((-27.0161574965, 19.6042705962), (-22.6446229644, 11.5056964501))
        make_face()
    extrude(amount=F1_DEPTH, both=True)

    # F2 (on Right) → F3 (revolve, cut)
    with BuildSketch(Plane.YZ):
        Polygon((-6.35, -33.3796453399), (0, -33.3796453399), (6.35, -33.3796453399), (-6.35, -25.4), align=None)
    revolve(axis=Axis((0, -3.175, 0), (0, -1, 0)), mode=Mode.SUBTRACT)

    # F4 (on face) → F6 (join)
    with BuildSketch(Plane.XZ.offset(6.35)):
        with BuildLine():
            Line((0, 0), (8.085071109, 0))
            ThreePointArc((8.085071109, 0), (7.9297187347, 1.5773191262), (7.4696317165, 3.0940227629))
            Line((7.4696317165, 3.0940227629), (0, 0))
        make_face()
        with BuildLine():
            Line((14.435071109, 0), (8.085071109, 0))
            ThreePointArc((8.085071109, 0), (7.9297187347, -1.5773191262), (7.4696317165, -3.0940227629))
            Line((7.4696317165, -3.0940227629), (14.435071109, 0))
        make_face()
        with BuildLine():
            ThreePointArc((7.4696317165, -3.0940227629), (7.9297187347, -1.5773191262), (8.085071109, 0))
            Line((8.085071109, 0), (0, 0))
            Line((0, 0), (7.4696317165, -3.0940227629))
        make_face()
        with BuildLine():
            ThreePointArc((7.4696317165, 3.0940227629), (7.9297187347, 1.5773191262), (8.085071109, 0))
            Line((8.085071109, 0), (14.435071109, 0))
            Line((14.435071109, 0), (7.4696317165, 3.0940227629))
        make_face()
        with BuildLine():
            Line((0, 0), (7.4696317165, 3.0940227629))
            ThreePointArc((7.4696317165, 3.0940227629), (6.7224909404, 4.49182484), (5.7170086075, 5.7170086075))
            Line((5.7170086075, 5.7170086075), (0, 0))
        make_face()
        with BuildLine():
            ThreePointArc((5.7170086075, 5.7170086075), (6.7224909404, 4.49182484), (7.4696317165, 3.0940227629))
            Line((7.4696317165, 3.0940227629), (10.2071366681, 10.2071366681))
            Line((10.2071366681, 10.2071366681), (5.7170086075, 5.7170086075))
        make_face()
        with BuildLine():
            Line((10.2071366681, -10.2071366681), (7.4696317165, -3.0940227629))
            ThreePointArc((7.4696317165, -3.0940227629), (6.7224909404, -4.49182484), (5.7170086075, -5.7170086075))
            Line((5.7170086075, -5.7170086075), (10.2071366681, -10.2071366681))
        make_face()
        with BuildLine():
            ThreePointArc((5.7170086075, -5.7170086075), (6.7224909404, -4.49182484), (7.4696317165, -3.0940227629))
            Line((7.4696317165, -3.0940227629), (0, 0))
            Line((0, 0), (5.7170086075, -5.7170086075))
        make_face()
        with BuildLine():
            Line((-3.0940227629, 7.4696317165), (0, 0))
            Line((0, 0), (3.0940227629, 7.4696317165))
            ThreePointArc((3.0940227629, 7.4696317165), (1.5773191262, 7.9297187347), (0, 8.085071109))
            ThreePointArc((0, 8.085071109), (-1.5773191262, 7.9297187347), (-3.0940227629, 7.4696317165))
        make_face()
        with BuildLine():
            Line((3.0940227629, 7.4696317165), (0, 0))
            Line((0, 0), (5.7170086075, 5.7170086075))
            ThreePointArc((5.7170086075, 5.7170086075), (4.49182484, 6.7224909404), (3.0940227629, 7.4696317165))
        make_face()
        with BuildLine():
            Line((5.7170086075, -5.7170086075), (0, 0))
            Line((0, 0), (3.0940227629, -7.4696317165))
            ThreePointArc((3.0940227629, -7.4696317165), (4.49182484, -6.7224909404), (5.7170086075, -5.7170086075))
        make_face()
        with BuildLine():
            Line((3.0940227629, -7.4696317165), (0, 0))
            Line((0, 0), (-3.0940227629, -7.4696317165))
            ThreePointArc((-3.0940227629, -7.4696317165), (-1.5773191262, -7.9297187347), (0, -8.085071109))
            ThreePointArc((0, -8.085071109), (1.5773191262, -7.9297187347), (3.0940227629, -7.4696317165))
        make_face()
        with BuildLine():
            Line((-3.0940227629, -7.4696317165), (0, 0))
            Line((0, 0), (-5.7170086075, -5.7170086075))
            ThreePointArc((-5.7170086075, -5.7170086075), (-4.49182484, -6.7224909404), (-3.0940227629, -7.4696317165))
        make_face()
        with BuildLine():
            Line((-5.7170086075, -5.7170086075), (0, 0))
            Line((0, 0), (-7.4696317165, -3.0940227629))
            ThreePointArc((-7.4696317165, -3.0940227629), (-6.7224909404, -4.49182484), (-5.7170086075, -5.7170086075))
        make_face()
        with BuildLine():
            Line((-7.4696317165, -3.0940227629), (0, 0))
            Line((0, 0), (-7.4696317165, 3.0940227629))
            ThreePointArc((-7.4696317165, 3.0940227629), (-7.9297187347, 1.5773191262), (-8.085071109, 0))
            ThreePointArc((-8.085071109, 0), (-7.9297187347, -1.5773191262), (-7.4696317165, -3.0940227629))
        make_face()
        with BuildLine():
            Line((-7.4696317165, 3.0940227629), (0, 0))
            Line((0, 0), (-5.7170086075, 5.7170086075))
            ThreePointArc((-5.7170086075, 5.7170086075), (-6.7224909404, 4.49182484), (-7.4696317165, 3.0940227629))
        make_face()
        with BuildLine():
            Line((-5.7170086075, 5.7170086075), (0, 0))
            Line((0, 0), (-3.0940227629, 7.4696317165))
            ThreePointArc((-3.0940227629, 7.4696317165), (-4.49182484, 6.7224909404), (-5.7170086075, 5.7170086075))
        make_face()
        with BuildLine():
            ThreePointArc((3.0940227629, 7.4696317165), (4.49182484, 6.7224909404), (5.7170086075, 5.7170086075))
            Line((5.7170086075, 5.7170086075), (10.2071366681, 10.2071366681))
            Line((10.2071366681, 10.2071366681), (3.0940227629, 7.4696317165))
        make_face()
        with BuildLine():
            Line((10.2071366681, -10.2071366681), (5.7170086075, -5.7170086075))
            ThreePointArc((5.7170086075, -5.7170086075), (4.49182484, -6.7224909404), (3.0940227629, -7.4696317165))
            Line((3.0940227629, -7.4696317165), (10.2071366681, -10.2071366681))
        make_face()
        with BuildLine():
            ThreePointArc((0, 8.085071109), (1.5773191262, 7.9297187347), (3.0940227629, 7.4696317165))
            Line((3.0940227629, 7.4696317165), (0, 14.435071109))
            Line((0, 14.435071109), (0, 8.085071109))
        make_face()
        with BuildLine():
            Line((0, -14.435071109), (3.0940227629, -7.4696317165))
            ThreePointArc((3.0940227629, -7.4696317165), (1.5773191262, -7.9297187347), (0, -8.085071109))
            Line((0, -8.085071109), (0, -14.435071109))
        make_face()
        with BuildLine():
            Line((-10.2071366681, -10.2071366681), (-3.0940227629, -7.4696317165))
            ThreePointArc((-3.0940227629, -7.4696317165), (-4.49182484, -6.7224909404), (-5.7170086075, -5.7170086075))
            Line((-5.7170086075, -5.7170086075), (-10.2071366681, -10.2071366681))
        make_face()
        with BuildLine():
            ThreePointArc((0, -8.085071109), (-1.5773191262, -7.9297187347), (-3.0940227629, -7.4696317165))
            Line((-3.0940227629, -7.4696317165), (0, -14.435071109))
            Line((0, -14.435071109), (0, -8.085071109))
        make_face()
        with BuildLine():
            Line((-10.2071366681, -10.2071366681), (-5.7170086075, -5.7170086075))
            ThreePointArc((-5.7170086075, -5.7170086075), (-6.7224909404, -4.49182484), (-7.4696317165, -3.0940227629))
            Line((-7.4696317165, -3.0940227629), (-10.2071366681, -10.2071366681))
        make_face()
        with BuildLine():
            Line((-14.435071109, 0), (-7.4696317165, -3.0940227629))
            ThreePointArc((-7.4696317165, -3.0940227629), (-7.9297187347, -1.5773191262), (-8.085071109, 0))
            Line((-8.085071109, 0), (-14.435071109, 0))
        make_face()
        with BuildLine():
            Line((-10.2071366681, 10.2071366681), (-7.4696317165, 3.0940227629))
            ThreePointArc((-7.4696317165, 3.0940227629), (-6.7224909404, 4.49182484), (-5.7170086075, 5.7170086075))
            Line((-5.7170086075, 5.7170086075), (-10.2071366681, 10.2071366681))
        make_face()
        with BuildLine():
            ThreePointArc((-8.085071109, 0), (-7.9297187347, 1.5773191262), (-7.4696317165, 3.0940227629))
            Line((-7.4696317165, 3.0940227629), (-14.435071109, 0))
            Line((-14.435071109, 0), (-8.085071109, 0))
        make_face()
        with BuildLine():
            Line((-10.2071366681, 10.2071366681), (-5.7170086075, 5.7170086075))
            ThreePointArc((-5.7170086075, 5.7170086075), (-4.49182484, 6.7224909404), (-3.0940227629, 7.4696317165))
            Line((-3.0940227629, 7.4696317165), (-10.2071366681, 10.2071366681))
        make_face()
        with BuildLine():
            Line((0, 14.435071109), (-3.0940227629, 7.4696317165))
            ThreePointArc((-3.0940227629, 7.4696317165), (-1.5773191262, 7.9297187347), (0, 8.085071109))
            Line((0, 8.085071109), (0, 14.435071109))
        make_face()
    extrude(amount=F6_DEPTH)

    # F5 (on Front) → F7 (cut, symmetric)
    with BuildSketch(Plane.XZ):
        Circle(F5_R)
    extrude(amount=-F7_DEPTH, both=True, mode=Mode.SUBTRACT)


solid = f1.part
